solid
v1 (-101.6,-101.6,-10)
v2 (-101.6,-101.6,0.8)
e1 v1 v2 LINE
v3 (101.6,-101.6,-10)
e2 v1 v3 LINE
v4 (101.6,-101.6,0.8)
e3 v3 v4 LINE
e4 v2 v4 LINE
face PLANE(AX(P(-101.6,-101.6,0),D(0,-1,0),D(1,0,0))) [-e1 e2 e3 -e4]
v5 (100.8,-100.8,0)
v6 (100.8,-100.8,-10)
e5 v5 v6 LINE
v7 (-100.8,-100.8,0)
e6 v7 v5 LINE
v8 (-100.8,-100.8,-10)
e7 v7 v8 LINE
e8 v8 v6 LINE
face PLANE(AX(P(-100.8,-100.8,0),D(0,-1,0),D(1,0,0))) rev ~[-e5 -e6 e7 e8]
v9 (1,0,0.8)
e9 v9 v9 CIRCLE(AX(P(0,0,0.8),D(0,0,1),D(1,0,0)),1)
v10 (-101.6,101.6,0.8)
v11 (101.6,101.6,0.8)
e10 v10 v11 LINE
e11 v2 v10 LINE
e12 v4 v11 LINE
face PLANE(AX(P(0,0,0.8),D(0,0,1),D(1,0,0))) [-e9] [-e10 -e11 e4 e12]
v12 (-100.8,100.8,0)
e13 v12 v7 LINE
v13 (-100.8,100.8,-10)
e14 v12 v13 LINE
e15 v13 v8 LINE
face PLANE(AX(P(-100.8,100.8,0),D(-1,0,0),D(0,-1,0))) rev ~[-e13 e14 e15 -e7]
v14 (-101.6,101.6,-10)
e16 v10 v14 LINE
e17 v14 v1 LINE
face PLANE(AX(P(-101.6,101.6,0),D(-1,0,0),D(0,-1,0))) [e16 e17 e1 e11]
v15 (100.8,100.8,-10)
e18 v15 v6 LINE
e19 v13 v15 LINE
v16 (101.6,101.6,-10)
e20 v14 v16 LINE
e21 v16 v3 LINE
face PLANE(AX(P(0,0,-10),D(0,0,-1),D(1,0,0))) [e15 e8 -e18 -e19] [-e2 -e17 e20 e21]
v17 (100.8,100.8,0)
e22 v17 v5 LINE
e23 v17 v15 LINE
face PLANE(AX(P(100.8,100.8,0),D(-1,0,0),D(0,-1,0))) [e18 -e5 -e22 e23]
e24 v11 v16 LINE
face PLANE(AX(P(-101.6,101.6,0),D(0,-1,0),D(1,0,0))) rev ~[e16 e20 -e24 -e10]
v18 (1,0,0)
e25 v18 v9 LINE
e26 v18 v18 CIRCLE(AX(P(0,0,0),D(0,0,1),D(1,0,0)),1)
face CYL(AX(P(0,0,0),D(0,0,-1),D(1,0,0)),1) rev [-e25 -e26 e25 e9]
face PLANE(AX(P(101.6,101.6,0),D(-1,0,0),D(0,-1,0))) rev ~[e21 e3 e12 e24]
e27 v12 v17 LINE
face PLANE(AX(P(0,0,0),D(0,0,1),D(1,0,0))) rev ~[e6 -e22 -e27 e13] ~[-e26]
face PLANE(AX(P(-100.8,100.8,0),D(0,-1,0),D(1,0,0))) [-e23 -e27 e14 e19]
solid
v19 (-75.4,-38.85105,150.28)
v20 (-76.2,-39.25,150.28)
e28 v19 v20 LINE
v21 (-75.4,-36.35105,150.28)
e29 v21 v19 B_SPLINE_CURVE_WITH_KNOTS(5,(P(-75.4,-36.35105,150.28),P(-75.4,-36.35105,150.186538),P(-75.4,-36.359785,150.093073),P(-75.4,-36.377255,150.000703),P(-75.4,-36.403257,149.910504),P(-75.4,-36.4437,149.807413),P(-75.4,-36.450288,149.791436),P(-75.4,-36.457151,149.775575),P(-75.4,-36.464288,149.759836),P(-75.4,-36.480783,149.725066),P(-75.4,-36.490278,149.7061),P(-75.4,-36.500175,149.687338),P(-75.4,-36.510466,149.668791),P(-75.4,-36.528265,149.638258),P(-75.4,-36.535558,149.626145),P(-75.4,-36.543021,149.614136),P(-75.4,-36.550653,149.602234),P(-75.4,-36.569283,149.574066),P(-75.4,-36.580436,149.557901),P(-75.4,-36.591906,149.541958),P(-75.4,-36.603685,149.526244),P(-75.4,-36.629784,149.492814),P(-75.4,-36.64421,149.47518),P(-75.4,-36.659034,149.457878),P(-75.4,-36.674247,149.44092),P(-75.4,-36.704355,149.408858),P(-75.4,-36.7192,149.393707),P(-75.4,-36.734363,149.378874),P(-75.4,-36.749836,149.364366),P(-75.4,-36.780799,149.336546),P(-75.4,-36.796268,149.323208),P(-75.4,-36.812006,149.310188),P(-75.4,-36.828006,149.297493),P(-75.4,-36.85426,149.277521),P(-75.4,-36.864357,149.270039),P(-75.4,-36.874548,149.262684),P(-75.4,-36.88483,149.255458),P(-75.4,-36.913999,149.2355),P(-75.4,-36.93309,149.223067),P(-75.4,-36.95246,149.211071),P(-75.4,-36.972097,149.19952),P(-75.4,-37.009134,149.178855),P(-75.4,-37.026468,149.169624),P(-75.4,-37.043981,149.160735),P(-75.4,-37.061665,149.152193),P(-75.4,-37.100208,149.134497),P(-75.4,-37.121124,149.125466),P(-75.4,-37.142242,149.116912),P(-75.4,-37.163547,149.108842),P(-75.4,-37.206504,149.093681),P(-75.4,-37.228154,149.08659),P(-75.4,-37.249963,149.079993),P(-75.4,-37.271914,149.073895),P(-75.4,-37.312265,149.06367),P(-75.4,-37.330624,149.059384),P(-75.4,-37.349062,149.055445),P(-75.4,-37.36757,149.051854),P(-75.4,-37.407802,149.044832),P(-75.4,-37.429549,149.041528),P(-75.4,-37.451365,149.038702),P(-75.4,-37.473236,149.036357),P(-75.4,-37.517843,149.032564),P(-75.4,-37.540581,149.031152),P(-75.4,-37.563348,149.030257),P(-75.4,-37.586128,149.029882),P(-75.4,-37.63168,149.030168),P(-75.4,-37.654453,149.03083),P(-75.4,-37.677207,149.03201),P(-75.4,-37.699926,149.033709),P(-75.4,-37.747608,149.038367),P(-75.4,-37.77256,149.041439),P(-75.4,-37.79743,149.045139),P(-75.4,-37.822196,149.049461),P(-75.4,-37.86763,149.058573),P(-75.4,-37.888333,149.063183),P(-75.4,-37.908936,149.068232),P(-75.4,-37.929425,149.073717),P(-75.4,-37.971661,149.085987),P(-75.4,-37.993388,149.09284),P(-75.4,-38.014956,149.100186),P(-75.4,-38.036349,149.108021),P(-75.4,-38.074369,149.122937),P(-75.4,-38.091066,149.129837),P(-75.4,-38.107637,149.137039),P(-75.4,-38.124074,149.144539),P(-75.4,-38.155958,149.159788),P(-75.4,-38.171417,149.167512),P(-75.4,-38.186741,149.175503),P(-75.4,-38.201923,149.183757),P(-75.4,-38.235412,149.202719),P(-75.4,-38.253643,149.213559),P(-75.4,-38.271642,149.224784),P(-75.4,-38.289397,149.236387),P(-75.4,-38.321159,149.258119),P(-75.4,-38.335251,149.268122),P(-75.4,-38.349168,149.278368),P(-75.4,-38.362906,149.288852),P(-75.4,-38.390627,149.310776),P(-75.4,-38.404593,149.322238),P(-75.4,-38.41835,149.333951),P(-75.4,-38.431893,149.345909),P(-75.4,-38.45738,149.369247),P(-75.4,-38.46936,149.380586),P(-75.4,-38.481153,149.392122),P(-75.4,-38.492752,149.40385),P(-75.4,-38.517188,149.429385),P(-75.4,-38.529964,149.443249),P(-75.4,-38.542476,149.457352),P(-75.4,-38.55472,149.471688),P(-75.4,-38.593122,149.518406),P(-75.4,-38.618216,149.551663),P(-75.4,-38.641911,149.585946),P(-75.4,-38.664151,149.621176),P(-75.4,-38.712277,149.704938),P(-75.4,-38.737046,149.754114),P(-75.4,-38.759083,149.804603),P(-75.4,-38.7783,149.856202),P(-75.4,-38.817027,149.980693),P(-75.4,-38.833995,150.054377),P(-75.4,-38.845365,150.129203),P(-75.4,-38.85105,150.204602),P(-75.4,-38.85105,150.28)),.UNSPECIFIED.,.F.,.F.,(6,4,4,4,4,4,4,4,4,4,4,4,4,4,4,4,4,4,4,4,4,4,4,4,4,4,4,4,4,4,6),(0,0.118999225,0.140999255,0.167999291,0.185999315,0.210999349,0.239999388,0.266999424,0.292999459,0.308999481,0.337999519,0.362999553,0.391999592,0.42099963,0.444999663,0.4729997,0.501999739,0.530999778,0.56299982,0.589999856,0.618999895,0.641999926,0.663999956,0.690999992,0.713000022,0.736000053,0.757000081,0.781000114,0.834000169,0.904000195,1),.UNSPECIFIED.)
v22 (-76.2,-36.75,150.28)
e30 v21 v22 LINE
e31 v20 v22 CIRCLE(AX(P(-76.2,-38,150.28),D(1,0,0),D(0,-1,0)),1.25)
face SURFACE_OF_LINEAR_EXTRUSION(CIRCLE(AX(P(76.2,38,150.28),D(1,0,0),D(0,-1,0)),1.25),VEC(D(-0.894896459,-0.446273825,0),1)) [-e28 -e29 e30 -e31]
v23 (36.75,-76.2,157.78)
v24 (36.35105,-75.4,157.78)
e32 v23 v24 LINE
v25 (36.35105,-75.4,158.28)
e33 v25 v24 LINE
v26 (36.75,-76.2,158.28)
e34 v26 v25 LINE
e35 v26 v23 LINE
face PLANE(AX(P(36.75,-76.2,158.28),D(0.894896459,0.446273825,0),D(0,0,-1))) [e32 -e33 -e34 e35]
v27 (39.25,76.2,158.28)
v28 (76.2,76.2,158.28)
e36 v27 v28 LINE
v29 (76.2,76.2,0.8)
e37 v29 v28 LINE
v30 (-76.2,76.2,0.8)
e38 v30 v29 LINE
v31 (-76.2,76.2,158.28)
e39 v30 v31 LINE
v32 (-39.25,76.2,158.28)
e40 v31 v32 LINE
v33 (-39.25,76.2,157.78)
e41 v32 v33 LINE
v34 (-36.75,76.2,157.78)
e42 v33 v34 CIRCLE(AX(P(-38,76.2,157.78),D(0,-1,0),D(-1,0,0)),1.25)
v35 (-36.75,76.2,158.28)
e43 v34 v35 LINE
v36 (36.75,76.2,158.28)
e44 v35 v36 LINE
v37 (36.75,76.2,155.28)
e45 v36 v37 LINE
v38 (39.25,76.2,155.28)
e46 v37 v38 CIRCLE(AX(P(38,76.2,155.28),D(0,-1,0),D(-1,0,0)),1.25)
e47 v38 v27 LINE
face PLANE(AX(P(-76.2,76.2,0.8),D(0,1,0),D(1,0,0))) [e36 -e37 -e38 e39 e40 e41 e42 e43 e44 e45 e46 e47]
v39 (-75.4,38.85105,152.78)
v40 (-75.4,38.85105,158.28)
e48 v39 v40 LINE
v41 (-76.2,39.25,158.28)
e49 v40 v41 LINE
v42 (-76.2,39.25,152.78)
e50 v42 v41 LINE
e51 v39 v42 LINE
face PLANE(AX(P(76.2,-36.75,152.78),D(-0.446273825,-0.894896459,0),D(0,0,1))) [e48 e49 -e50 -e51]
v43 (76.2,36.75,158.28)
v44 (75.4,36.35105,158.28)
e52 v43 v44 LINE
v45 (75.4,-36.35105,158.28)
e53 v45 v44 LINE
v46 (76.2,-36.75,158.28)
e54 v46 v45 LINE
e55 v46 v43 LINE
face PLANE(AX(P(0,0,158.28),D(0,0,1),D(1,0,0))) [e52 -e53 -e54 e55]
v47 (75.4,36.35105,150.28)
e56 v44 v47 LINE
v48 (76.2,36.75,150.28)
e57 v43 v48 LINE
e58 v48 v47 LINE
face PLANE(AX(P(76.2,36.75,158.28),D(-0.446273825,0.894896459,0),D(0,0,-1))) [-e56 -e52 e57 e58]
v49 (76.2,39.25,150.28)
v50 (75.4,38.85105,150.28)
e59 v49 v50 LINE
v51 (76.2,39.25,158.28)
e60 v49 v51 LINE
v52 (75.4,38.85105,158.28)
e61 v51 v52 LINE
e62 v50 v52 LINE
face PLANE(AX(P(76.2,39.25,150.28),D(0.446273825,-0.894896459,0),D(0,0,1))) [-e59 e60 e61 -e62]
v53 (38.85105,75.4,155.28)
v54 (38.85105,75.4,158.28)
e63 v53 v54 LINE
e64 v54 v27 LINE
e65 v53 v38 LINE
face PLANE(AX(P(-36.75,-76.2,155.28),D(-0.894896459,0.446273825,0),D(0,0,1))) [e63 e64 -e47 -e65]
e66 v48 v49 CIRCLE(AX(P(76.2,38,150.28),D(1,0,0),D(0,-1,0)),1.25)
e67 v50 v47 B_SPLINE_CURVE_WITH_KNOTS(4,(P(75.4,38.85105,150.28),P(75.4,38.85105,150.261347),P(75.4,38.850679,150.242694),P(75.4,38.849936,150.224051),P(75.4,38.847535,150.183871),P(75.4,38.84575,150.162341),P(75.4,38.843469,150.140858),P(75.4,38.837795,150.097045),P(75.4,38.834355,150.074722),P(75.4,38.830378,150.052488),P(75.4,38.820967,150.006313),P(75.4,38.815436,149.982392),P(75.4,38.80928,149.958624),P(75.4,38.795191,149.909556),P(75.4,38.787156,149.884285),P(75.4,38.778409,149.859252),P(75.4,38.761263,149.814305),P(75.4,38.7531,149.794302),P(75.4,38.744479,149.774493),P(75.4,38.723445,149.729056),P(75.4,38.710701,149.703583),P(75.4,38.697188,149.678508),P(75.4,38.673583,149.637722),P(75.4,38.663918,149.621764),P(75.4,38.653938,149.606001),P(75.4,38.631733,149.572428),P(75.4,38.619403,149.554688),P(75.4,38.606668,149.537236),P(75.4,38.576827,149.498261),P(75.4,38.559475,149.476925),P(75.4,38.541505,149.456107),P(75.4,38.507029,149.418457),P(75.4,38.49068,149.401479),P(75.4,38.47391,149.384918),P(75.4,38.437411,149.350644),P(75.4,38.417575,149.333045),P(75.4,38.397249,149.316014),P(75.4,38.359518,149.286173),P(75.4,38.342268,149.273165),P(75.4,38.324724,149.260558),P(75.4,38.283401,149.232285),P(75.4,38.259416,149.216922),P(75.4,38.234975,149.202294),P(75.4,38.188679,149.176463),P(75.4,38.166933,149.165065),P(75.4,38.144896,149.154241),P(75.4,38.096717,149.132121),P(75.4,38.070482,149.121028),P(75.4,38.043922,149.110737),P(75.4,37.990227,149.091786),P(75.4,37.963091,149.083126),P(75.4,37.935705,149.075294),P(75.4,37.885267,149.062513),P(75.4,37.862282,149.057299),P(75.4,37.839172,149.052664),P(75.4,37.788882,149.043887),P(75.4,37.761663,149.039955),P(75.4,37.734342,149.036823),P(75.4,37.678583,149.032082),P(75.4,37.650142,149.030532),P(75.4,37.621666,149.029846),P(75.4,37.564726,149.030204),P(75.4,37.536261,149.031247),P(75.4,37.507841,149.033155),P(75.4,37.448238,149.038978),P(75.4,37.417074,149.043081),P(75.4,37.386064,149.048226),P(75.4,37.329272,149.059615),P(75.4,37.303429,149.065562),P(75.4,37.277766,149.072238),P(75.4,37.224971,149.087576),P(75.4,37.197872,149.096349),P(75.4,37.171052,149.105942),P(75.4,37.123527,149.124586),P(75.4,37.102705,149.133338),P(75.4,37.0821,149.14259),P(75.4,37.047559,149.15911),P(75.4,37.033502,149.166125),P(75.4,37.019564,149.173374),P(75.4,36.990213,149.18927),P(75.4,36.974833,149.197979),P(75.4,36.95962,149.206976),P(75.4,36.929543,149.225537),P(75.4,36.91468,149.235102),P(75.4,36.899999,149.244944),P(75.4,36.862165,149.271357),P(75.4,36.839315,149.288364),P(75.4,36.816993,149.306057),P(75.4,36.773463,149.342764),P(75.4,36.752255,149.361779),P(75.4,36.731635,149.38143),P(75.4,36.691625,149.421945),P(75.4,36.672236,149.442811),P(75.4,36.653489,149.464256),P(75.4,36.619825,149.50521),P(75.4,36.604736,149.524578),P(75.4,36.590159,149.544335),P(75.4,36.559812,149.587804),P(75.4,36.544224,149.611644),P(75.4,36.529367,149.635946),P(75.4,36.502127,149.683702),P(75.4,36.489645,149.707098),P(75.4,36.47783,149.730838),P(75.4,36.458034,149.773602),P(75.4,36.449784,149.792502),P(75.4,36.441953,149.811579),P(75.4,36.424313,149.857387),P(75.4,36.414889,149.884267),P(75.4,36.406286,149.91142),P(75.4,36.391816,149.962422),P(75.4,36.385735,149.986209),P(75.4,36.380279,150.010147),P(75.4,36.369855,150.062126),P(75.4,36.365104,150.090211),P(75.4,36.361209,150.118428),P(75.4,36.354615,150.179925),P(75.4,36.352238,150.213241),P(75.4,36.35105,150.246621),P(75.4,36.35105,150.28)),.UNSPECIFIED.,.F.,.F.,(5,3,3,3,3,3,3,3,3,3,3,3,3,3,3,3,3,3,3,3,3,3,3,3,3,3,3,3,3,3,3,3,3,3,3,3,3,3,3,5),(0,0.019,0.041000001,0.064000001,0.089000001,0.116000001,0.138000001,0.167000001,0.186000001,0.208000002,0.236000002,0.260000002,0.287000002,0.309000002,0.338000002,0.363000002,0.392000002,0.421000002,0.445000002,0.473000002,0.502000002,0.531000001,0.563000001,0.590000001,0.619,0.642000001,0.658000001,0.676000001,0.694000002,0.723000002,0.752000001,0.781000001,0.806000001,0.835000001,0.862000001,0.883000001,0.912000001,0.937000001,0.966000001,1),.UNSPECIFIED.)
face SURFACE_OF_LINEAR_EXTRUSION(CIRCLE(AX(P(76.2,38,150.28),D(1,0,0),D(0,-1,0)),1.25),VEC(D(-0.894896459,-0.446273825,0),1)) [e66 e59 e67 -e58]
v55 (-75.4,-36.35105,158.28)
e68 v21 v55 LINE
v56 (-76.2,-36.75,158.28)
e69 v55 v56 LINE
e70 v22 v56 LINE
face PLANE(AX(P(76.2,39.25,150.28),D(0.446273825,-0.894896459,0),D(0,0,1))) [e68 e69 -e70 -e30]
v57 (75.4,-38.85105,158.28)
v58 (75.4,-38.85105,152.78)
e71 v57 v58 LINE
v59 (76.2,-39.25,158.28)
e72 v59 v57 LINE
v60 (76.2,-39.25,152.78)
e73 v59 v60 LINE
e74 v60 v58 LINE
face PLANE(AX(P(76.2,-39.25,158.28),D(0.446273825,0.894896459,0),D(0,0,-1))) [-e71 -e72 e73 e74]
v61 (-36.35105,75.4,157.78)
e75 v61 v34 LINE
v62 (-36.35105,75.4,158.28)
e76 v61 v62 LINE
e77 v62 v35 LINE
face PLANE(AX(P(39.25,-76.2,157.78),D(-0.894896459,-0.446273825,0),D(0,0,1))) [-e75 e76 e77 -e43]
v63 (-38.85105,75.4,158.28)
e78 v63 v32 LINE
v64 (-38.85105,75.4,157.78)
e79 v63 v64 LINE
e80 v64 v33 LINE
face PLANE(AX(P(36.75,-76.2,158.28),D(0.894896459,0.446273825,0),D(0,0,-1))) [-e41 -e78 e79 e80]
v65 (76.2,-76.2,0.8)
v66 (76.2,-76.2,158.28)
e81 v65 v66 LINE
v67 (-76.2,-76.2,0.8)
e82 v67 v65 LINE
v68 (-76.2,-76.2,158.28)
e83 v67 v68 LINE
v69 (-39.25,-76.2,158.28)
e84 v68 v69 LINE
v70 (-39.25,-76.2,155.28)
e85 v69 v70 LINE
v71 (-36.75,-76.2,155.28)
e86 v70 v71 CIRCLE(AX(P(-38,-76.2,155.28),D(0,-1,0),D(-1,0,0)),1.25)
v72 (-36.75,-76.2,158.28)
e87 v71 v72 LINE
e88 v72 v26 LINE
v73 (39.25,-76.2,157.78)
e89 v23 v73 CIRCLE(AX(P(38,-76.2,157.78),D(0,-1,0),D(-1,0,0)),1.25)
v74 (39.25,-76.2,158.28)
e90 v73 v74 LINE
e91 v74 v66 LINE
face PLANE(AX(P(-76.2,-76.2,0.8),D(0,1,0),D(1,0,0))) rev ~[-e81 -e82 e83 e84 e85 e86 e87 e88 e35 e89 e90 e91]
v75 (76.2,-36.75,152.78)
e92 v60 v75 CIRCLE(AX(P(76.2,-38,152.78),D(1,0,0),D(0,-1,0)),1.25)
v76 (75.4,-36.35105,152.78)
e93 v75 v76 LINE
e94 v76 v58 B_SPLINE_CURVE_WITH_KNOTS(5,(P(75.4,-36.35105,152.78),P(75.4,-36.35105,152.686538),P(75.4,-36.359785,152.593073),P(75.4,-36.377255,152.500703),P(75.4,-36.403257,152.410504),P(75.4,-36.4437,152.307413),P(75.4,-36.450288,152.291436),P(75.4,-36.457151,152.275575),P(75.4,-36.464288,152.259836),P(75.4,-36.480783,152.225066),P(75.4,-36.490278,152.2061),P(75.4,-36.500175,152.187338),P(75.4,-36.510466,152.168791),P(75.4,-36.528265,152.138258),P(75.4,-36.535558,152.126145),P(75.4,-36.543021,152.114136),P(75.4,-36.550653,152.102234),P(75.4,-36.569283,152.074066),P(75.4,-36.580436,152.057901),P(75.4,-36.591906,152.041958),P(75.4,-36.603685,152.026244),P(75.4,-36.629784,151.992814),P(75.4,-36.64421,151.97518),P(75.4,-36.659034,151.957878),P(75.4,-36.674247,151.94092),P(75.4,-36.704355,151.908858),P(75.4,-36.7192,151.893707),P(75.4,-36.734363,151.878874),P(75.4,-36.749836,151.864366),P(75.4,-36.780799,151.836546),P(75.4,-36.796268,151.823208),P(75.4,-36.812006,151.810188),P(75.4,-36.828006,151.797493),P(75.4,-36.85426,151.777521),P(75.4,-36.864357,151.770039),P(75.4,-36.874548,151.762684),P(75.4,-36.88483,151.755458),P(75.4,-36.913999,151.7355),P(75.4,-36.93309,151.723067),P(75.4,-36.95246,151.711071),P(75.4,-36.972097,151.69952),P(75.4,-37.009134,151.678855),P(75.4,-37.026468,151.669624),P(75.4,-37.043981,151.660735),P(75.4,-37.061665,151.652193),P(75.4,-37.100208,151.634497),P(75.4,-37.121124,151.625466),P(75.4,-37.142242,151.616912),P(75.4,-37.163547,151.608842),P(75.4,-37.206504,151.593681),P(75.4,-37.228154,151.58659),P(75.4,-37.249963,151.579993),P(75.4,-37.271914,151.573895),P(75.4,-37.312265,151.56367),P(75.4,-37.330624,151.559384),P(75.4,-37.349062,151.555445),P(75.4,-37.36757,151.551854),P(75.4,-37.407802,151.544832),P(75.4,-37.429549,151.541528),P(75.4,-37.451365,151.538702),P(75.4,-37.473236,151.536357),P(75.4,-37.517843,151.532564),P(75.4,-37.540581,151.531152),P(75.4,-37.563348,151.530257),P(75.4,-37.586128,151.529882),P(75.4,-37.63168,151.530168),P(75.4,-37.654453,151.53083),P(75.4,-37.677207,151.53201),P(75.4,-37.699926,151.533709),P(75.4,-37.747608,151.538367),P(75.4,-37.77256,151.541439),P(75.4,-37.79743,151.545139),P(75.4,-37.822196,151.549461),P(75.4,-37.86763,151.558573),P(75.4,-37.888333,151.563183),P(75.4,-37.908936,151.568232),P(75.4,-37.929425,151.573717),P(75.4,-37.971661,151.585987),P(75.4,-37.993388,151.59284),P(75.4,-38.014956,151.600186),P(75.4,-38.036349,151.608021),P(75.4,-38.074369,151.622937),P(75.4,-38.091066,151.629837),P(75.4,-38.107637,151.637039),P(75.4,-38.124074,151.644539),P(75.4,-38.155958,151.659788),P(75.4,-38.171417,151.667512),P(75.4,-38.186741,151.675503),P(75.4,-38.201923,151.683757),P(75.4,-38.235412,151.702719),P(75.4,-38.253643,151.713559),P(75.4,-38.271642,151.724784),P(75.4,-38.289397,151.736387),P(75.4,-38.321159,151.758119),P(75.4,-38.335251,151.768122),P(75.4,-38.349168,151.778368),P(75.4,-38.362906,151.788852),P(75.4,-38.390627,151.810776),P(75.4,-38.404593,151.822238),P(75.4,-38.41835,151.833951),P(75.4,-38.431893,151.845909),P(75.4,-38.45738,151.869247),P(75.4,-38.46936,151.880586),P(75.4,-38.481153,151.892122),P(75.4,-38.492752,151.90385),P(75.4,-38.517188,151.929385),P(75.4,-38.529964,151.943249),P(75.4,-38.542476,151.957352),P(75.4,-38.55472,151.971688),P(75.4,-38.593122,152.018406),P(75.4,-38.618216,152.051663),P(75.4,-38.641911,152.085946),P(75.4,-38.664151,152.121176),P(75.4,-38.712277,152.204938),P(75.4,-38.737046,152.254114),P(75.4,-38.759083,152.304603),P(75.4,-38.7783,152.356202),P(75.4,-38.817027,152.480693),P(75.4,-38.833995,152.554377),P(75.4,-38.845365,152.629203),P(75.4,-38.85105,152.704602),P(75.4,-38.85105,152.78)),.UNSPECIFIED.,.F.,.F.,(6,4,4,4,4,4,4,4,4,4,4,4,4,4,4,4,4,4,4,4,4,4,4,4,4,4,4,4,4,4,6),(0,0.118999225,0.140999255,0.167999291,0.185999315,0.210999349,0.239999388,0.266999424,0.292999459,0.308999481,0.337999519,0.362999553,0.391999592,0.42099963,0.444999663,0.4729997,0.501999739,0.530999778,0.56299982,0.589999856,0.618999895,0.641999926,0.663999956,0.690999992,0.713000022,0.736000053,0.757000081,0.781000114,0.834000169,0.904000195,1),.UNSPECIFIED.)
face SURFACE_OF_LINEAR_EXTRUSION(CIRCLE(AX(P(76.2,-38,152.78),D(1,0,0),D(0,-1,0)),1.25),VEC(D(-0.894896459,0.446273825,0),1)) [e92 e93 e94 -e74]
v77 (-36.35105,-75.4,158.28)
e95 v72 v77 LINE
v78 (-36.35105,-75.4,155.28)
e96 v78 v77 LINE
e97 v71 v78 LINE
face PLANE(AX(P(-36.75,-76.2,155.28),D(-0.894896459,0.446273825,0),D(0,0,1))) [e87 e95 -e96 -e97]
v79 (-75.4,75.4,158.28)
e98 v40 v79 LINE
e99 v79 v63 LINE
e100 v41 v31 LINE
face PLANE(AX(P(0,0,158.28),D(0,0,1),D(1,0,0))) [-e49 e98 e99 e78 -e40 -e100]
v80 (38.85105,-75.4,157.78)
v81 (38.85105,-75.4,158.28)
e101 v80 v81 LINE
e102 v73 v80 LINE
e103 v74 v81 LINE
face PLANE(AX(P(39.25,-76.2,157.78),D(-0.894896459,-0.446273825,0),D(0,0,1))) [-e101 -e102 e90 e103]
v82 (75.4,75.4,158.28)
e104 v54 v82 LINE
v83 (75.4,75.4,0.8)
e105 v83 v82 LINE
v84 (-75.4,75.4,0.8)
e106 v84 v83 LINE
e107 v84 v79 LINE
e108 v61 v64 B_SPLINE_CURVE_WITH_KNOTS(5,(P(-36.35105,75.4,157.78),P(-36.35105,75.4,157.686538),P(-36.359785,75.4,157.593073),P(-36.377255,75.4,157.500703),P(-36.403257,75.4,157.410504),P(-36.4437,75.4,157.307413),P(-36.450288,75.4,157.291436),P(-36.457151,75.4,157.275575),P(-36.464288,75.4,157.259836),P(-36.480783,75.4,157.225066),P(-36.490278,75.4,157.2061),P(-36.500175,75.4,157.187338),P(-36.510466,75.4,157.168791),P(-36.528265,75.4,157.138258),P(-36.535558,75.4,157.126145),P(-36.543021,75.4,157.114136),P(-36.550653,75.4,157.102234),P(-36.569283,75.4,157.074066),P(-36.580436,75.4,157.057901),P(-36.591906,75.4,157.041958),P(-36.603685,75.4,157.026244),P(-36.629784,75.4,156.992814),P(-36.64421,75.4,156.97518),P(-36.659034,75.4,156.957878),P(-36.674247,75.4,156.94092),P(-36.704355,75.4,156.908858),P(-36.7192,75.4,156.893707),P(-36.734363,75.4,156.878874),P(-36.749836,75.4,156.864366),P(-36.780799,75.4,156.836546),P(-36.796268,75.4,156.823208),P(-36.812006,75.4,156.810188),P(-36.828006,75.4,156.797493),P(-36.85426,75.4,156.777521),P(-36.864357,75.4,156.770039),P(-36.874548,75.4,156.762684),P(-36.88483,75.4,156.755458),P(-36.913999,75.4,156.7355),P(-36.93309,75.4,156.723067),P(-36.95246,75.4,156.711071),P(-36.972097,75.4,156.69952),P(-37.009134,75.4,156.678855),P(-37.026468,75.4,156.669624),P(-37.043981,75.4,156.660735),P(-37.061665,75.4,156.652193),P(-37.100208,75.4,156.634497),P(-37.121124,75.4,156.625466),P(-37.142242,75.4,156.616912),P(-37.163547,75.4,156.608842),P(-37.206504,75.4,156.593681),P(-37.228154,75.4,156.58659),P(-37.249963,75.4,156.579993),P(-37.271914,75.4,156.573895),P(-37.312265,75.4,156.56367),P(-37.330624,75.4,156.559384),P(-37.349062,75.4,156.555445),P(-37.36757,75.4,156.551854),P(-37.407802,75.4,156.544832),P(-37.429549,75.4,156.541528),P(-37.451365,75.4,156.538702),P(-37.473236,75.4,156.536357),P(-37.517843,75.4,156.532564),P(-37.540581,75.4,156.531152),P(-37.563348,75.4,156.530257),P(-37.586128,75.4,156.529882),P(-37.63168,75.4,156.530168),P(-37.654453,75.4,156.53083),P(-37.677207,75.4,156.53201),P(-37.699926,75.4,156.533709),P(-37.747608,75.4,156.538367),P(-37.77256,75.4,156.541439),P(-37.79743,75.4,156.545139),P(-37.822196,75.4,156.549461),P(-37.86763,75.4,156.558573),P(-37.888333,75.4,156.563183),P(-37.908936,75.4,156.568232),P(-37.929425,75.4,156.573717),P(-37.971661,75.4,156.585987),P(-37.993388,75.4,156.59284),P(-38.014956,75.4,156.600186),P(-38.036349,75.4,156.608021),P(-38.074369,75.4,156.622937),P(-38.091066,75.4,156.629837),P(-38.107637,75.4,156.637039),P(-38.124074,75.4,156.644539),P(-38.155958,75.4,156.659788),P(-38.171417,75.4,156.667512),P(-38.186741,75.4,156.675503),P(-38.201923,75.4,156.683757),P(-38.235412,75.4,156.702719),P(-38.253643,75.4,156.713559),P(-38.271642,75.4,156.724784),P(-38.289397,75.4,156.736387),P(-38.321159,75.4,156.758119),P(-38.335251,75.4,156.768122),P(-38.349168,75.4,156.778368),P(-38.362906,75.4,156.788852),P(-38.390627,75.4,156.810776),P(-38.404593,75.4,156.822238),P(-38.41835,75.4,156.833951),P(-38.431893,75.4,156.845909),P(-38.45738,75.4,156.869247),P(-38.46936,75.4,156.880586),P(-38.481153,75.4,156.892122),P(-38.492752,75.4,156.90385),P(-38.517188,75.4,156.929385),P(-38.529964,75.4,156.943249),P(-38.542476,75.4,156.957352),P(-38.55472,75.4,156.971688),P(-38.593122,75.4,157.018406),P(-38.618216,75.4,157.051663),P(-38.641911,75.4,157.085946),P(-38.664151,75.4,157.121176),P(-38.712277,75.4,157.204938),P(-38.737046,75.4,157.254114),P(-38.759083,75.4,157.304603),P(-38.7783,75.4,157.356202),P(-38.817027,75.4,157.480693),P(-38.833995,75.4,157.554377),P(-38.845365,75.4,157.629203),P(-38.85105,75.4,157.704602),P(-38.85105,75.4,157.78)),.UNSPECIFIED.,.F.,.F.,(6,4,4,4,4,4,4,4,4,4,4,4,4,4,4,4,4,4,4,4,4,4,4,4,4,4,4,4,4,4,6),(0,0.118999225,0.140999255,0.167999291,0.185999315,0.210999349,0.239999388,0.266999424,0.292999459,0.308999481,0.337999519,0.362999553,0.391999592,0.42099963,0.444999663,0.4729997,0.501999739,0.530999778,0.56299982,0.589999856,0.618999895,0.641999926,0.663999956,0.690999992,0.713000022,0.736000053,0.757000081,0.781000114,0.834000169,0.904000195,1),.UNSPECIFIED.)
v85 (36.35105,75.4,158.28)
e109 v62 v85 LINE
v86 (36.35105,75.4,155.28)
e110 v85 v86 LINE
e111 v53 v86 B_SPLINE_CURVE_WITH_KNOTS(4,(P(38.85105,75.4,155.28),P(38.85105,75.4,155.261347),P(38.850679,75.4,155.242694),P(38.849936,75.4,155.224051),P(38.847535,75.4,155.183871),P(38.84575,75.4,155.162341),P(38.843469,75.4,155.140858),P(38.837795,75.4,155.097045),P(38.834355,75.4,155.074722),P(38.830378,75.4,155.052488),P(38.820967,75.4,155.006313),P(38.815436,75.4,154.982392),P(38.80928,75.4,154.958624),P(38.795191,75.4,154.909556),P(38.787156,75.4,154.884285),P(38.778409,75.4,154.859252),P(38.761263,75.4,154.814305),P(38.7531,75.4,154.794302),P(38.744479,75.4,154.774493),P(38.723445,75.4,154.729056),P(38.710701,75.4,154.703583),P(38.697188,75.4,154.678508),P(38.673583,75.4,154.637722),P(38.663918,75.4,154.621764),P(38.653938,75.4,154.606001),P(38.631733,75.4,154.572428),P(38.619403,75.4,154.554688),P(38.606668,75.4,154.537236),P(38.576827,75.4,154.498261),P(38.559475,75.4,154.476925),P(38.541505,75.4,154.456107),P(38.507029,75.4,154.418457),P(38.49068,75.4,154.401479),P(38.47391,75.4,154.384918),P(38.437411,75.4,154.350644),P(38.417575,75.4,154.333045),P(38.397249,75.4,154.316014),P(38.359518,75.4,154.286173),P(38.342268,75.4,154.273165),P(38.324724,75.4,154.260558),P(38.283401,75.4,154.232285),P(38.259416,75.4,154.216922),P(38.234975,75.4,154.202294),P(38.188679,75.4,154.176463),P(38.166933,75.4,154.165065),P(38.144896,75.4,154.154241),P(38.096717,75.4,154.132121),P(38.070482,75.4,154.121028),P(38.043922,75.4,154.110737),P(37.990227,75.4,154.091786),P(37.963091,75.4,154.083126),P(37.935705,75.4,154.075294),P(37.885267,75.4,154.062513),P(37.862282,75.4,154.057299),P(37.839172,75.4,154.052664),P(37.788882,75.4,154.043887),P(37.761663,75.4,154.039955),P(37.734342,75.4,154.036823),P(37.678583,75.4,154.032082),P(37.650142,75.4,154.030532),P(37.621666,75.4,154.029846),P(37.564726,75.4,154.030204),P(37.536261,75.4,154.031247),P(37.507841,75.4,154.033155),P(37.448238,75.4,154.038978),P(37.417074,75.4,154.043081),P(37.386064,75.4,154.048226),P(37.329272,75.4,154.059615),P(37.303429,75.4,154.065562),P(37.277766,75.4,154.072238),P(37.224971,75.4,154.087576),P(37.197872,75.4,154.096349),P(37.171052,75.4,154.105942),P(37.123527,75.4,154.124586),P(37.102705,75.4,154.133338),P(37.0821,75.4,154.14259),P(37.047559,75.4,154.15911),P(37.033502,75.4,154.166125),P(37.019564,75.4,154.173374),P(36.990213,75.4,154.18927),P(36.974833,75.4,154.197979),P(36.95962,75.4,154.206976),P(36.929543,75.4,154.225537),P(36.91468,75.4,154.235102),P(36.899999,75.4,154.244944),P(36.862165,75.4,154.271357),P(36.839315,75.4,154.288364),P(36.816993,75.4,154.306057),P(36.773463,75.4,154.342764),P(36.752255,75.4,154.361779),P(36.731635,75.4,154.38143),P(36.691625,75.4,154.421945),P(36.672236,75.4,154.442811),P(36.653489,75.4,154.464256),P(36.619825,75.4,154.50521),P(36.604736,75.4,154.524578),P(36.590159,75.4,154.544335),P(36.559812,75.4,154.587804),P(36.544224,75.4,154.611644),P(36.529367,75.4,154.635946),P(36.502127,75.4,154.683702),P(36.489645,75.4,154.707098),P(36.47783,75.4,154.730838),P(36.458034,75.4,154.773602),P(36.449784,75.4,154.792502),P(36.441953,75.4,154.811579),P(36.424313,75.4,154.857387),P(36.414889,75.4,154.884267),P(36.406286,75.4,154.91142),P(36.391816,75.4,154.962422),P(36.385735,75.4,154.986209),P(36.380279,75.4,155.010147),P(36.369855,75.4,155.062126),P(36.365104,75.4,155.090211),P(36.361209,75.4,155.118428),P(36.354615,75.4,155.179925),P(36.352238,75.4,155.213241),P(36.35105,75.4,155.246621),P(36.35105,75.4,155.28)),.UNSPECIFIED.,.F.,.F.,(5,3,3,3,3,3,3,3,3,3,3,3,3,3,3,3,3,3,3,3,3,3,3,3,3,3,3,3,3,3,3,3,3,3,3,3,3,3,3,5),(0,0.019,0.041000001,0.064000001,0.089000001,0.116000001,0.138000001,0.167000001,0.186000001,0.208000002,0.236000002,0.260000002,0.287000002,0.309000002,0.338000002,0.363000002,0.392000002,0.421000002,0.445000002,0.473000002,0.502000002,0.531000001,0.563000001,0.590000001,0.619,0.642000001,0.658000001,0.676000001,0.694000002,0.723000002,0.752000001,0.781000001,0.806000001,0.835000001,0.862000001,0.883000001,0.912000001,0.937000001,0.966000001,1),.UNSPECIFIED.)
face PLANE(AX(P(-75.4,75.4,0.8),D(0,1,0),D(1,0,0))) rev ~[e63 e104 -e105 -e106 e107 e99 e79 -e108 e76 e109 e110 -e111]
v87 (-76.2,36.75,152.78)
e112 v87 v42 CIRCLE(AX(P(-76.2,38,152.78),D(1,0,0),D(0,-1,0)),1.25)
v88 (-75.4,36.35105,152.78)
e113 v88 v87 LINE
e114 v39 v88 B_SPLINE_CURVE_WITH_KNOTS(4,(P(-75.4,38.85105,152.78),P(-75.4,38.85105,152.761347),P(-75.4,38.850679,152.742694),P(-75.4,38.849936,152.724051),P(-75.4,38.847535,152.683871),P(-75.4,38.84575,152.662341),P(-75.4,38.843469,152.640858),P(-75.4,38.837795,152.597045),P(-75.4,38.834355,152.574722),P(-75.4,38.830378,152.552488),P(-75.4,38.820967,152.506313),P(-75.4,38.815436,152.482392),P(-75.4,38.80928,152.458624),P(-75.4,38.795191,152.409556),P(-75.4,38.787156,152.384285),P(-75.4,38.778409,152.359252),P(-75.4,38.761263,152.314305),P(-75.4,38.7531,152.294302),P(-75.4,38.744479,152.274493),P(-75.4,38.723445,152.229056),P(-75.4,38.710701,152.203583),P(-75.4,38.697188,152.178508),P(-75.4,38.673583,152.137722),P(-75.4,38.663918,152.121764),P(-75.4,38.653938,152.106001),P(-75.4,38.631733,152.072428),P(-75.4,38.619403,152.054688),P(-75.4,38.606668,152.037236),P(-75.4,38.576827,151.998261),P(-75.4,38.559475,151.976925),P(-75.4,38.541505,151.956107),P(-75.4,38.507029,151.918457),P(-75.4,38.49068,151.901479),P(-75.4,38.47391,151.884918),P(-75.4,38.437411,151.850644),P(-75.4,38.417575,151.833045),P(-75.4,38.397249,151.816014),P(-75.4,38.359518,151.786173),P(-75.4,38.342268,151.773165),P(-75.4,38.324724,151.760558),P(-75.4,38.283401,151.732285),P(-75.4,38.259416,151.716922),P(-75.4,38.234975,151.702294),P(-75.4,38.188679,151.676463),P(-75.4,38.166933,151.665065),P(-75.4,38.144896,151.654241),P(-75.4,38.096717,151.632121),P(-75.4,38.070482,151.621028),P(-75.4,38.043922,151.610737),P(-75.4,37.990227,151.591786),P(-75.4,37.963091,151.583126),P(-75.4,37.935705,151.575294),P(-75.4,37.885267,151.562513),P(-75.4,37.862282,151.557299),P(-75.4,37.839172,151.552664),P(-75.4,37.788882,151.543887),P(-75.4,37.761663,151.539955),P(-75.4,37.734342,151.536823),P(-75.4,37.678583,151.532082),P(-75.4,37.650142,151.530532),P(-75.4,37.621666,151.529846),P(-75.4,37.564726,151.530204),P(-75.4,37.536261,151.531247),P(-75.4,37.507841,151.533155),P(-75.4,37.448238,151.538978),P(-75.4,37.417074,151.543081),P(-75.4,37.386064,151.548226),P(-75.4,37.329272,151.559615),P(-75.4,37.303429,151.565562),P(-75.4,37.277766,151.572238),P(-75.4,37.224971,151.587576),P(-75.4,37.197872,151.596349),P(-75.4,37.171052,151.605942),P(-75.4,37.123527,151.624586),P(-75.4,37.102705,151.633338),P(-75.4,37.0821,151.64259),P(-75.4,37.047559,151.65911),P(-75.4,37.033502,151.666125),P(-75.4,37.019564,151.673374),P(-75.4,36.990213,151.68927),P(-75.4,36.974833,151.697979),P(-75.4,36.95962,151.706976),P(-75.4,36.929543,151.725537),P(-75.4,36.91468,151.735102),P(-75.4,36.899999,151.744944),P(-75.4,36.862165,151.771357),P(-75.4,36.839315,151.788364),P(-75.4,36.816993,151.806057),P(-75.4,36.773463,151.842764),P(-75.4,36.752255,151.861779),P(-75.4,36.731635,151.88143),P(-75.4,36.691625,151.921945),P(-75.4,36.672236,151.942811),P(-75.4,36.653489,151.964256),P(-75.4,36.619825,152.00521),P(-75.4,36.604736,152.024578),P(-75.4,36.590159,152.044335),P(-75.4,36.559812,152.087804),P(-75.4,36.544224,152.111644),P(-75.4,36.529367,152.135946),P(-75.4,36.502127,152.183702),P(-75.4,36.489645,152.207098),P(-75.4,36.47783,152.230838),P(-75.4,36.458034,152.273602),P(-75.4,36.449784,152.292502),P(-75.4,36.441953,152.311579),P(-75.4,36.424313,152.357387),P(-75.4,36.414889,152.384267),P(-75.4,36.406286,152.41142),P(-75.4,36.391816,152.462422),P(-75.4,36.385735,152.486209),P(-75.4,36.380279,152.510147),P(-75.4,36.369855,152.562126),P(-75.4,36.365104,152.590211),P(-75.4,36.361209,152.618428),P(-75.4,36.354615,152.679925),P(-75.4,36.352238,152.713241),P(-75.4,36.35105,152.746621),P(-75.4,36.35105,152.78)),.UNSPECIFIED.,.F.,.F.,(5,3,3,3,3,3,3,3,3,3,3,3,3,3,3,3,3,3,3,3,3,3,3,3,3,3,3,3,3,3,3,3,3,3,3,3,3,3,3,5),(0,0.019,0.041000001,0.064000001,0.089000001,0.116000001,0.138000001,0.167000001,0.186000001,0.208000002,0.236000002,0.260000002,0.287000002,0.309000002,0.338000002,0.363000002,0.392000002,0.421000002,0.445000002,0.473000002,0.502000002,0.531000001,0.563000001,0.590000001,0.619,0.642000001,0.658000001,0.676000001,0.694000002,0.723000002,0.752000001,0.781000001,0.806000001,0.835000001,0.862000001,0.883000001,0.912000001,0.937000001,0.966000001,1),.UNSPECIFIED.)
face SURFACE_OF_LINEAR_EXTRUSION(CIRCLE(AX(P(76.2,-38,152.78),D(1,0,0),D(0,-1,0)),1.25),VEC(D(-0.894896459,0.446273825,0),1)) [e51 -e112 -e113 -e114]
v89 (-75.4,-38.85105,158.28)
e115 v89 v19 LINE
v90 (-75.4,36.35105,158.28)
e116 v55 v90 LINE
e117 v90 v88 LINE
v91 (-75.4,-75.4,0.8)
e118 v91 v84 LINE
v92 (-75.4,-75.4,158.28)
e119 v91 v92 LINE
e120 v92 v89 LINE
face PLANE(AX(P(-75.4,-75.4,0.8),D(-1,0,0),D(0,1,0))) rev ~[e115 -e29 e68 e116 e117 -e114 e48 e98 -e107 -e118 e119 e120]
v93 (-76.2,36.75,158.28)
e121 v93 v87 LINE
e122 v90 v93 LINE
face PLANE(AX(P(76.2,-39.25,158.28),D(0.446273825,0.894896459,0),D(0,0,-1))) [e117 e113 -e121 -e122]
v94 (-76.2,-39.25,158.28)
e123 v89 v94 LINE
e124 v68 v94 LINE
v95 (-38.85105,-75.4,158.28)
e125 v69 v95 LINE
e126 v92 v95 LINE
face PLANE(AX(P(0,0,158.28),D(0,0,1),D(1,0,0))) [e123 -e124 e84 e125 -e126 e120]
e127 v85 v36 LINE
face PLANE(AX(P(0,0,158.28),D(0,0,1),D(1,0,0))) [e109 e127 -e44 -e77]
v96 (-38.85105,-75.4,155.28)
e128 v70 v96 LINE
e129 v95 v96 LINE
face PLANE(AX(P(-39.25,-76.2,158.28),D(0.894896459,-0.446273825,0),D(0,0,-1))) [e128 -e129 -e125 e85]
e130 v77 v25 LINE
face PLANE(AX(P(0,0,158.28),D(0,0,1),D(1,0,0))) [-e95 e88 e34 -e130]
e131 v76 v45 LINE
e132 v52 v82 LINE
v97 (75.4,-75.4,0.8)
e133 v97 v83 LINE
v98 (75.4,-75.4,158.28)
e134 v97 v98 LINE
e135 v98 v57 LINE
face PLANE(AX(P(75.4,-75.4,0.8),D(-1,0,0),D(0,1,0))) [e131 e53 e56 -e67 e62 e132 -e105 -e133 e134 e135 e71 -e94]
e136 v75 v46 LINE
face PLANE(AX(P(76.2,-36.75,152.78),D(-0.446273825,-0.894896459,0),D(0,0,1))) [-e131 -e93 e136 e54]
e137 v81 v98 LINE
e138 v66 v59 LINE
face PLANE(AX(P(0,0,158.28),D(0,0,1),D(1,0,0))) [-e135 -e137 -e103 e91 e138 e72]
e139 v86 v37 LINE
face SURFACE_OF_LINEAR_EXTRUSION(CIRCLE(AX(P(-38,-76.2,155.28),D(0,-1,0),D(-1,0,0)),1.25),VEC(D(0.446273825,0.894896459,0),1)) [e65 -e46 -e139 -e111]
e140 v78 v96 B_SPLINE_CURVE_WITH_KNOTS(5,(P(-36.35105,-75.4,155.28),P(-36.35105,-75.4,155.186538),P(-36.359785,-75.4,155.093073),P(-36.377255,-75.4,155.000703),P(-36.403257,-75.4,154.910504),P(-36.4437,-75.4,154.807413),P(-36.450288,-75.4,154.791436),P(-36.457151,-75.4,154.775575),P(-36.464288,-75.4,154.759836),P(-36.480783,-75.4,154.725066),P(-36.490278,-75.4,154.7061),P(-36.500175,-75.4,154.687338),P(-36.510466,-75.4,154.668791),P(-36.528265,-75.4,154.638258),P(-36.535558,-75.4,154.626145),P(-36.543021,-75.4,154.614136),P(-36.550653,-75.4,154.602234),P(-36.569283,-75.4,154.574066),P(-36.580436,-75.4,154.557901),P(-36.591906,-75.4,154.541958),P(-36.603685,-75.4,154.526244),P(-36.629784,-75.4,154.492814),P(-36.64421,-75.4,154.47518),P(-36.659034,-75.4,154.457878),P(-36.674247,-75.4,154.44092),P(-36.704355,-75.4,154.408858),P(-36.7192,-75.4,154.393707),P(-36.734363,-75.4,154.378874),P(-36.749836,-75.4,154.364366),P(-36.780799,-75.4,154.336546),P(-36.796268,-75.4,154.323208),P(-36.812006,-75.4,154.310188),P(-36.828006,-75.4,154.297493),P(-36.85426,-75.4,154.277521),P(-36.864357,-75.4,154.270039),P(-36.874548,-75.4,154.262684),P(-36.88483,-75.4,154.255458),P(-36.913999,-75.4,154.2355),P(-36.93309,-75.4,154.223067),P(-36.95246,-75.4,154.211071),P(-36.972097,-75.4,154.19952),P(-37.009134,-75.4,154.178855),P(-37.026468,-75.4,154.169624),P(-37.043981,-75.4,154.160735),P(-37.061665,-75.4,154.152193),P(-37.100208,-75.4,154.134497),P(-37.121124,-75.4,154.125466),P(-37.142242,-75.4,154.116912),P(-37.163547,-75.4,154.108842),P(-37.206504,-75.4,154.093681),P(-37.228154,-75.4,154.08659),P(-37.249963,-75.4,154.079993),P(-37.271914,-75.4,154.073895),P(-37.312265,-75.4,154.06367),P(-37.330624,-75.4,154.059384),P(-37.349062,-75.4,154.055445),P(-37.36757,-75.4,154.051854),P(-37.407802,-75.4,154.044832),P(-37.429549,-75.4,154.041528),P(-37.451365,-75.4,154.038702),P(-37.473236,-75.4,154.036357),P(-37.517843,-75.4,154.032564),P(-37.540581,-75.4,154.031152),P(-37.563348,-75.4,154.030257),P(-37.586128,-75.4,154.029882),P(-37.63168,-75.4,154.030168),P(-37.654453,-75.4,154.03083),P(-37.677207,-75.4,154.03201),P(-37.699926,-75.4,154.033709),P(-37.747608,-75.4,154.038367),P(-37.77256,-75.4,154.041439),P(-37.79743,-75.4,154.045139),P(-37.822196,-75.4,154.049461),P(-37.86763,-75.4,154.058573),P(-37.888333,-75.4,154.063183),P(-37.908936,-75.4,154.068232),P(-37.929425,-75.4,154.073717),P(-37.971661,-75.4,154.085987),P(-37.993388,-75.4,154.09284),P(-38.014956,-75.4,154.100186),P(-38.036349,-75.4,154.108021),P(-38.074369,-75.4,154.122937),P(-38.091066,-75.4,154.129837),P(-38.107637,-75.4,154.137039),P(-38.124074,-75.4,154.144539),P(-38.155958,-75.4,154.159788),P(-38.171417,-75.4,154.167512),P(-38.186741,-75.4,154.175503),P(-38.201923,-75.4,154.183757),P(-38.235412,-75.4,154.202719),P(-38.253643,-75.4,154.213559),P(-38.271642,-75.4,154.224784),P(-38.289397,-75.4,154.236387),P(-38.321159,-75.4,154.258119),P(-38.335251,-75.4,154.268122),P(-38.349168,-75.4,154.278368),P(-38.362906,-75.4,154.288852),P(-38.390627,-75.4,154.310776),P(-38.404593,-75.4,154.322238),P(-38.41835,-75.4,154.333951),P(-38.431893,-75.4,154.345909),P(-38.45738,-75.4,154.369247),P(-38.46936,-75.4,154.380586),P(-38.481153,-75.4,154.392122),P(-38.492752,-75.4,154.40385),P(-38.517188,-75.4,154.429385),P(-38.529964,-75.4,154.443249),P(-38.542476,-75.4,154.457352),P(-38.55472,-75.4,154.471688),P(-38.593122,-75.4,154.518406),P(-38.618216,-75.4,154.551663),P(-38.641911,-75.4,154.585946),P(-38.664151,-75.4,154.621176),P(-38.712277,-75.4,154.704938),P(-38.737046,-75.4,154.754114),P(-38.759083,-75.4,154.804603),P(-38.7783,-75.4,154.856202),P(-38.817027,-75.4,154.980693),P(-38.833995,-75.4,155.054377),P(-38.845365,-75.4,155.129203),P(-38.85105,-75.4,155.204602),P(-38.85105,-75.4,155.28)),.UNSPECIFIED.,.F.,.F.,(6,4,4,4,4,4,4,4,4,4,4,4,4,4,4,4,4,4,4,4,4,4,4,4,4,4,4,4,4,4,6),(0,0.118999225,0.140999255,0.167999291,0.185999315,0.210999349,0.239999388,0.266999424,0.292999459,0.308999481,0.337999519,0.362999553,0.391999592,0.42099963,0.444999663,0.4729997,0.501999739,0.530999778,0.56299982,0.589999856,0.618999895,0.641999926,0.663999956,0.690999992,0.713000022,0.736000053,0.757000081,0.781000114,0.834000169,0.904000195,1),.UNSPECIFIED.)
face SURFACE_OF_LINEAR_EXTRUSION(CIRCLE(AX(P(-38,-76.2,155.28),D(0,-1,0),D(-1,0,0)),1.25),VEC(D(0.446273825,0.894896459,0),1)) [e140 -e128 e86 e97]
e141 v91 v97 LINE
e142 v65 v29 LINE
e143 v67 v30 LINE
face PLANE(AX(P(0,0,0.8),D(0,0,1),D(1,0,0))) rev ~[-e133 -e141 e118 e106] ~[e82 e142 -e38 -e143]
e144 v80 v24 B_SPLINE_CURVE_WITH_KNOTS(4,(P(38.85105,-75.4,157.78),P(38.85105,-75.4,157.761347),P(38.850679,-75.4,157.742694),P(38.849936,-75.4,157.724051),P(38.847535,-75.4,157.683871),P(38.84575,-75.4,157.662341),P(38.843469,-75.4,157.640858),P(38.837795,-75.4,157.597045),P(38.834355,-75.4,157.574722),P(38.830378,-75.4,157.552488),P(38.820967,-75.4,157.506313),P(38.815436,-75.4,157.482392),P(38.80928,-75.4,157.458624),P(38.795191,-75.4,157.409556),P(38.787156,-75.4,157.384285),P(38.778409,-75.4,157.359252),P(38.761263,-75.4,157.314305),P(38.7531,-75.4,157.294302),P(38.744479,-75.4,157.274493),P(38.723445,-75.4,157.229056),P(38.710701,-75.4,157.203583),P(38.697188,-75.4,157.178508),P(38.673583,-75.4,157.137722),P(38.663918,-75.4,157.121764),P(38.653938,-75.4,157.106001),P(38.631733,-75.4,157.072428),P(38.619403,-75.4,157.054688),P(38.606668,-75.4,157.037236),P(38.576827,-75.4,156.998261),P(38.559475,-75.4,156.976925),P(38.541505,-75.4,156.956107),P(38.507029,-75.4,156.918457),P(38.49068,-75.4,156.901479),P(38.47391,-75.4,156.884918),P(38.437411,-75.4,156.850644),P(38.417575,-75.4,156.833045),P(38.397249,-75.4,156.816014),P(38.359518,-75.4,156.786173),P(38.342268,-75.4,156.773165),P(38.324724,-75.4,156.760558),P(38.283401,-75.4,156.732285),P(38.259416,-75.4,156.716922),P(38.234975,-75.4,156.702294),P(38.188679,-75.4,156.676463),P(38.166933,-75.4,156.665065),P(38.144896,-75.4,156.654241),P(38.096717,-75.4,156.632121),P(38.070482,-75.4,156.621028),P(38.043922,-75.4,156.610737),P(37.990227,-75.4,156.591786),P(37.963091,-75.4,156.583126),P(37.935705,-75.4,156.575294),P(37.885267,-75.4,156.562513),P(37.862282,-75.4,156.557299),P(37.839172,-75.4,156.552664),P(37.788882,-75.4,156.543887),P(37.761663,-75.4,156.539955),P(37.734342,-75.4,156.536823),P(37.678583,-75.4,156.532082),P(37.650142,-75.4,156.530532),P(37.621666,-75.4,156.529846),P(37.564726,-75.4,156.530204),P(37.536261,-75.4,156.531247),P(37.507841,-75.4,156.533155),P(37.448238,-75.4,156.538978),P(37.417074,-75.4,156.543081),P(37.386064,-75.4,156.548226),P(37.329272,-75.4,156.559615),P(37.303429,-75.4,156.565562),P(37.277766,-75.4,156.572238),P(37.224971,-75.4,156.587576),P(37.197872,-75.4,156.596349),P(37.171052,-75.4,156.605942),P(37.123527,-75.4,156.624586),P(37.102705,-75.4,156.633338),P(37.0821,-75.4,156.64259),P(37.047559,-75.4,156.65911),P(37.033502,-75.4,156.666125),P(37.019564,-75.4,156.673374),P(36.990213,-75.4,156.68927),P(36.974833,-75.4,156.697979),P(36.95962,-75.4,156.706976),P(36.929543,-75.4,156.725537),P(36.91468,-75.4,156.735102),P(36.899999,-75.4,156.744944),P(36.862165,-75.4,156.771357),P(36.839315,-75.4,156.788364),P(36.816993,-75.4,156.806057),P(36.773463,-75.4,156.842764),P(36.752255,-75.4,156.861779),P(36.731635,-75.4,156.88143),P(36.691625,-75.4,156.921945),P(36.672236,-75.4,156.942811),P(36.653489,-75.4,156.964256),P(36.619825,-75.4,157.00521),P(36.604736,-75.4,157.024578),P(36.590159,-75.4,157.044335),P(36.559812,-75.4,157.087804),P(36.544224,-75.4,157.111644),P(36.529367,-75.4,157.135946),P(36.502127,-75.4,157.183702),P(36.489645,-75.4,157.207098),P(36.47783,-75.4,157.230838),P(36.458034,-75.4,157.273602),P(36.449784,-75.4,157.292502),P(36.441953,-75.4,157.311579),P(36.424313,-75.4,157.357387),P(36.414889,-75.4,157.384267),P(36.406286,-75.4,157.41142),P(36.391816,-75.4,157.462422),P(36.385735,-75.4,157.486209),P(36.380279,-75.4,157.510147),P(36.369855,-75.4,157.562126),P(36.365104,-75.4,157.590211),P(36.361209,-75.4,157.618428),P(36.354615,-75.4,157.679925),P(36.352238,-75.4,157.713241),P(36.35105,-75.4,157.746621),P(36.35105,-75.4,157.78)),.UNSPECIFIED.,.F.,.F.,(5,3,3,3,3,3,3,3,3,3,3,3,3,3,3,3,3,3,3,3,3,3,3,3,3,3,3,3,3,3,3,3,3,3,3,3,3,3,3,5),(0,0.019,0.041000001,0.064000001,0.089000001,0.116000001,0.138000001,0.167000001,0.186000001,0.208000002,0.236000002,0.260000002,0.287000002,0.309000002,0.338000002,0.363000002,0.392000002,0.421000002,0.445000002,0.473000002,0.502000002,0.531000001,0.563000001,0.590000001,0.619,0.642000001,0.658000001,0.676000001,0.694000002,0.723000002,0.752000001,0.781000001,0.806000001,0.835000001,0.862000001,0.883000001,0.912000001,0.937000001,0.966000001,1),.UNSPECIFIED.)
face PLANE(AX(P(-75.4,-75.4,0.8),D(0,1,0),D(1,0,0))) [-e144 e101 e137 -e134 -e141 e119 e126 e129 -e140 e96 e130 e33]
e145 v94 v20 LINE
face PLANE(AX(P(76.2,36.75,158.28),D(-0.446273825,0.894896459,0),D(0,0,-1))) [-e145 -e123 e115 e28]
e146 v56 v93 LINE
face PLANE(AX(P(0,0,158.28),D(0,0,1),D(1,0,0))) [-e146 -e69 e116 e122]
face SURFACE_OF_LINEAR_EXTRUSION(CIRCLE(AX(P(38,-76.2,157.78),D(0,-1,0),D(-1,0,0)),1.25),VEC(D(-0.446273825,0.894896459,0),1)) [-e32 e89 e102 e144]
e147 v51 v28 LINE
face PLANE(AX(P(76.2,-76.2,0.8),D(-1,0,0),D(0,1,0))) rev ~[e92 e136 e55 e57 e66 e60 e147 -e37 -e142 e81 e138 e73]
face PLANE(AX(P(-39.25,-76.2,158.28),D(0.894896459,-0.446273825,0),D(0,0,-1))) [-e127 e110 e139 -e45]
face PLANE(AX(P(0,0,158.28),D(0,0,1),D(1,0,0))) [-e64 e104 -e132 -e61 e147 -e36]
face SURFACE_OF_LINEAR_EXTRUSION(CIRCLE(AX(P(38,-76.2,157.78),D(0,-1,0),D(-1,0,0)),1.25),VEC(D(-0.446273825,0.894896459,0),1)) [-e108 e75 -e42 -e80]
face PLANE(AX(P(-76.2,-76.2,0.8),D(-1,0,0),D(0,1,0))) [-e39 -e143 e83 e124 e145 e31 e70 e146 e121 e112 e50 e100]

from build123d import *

# Parameters (mm, degrees)
F0_W     = 203.2
F0_H     = 203.2
F0_R     = 1
F1_DEPTH = 0.8
F2_W     = 203.2
F2_H     = 203.2
F2_W_2   = 201.6
F2_H_2   = 201.6
F3_DEPTH = 10
F4_W     = 152.4
F4_H     = 152.4
F4_W_2   = 150.8
F4_H_2   = 150.8
F5_DEPTH = 157.48


with BuildPart() as f1:
    # F0 (on Top) → F1 (new body)
    with BuildSketch(Plane.XY):
        Rectangle(F0_W, F0_H)
        Circle(F0_R, mode=Mode.SUBTRACT)
    extrude(amount=F1_DEPTH)

    # F2 (on face) → F3 (join)
    with BuildSketch(Plane(origin=(0, 0, 0), x_dir=(1, 0, 0), z_dir=(0, 0, -1))):
        Rectangle(F2_W, F2_H)
        Rectangle(F2_W_2, F2_H_2, mode=Mode.SUBTRACT)
    extrude(amount=F3_DEPTH)


with BuildPart() as f5:
    # F4 (on face) → F5 (new body)
    with BuildSketch(Plane.XY.offset(0.8)):
        Rectangle(F4_W, F4_H)
        Rectangle(F4_W_2, F4_H_2, mode=Mode.SUBTRACT)
    extrude(amount=F5_DEPTH)

    # F9: sweep along a path in F8
    with BuildLine(Plane.XY.offset(158.28)) as f9_path:
        Line((38, -76.2), (-38, 76.2))
    # F6 (on face) → F9 (sweep, cut)
    with BuildSketch(Plane.XZ.offset(76.2)):
        with BuildLine():
            Line((39.25, 158.28), (36.75, 158.28))
            Line((36.75, 158.28), (36.75, 157.78))
            ThreePointArc((36.75, 157.78), (38, 156.53), (39.25, 157.78))
            Line((39.25, 157.78), (39.25, 158.28))
        make_face()
    sweep(path=f9_path.line, mode=Mode.SUBTRACT)

    # F10: sweep along a path in F8
    with BuildLine(Plane.XY.offset(158.28)) as f10_path:
        Line((-38, -76.2), (38, 76.2))
    # F6 (on face) → F10 (sweep, cut)
    with BuildSketch(Plane.XZ.offset(76.2)):
        with BuildLine():
            Line((-36.75, 155.28), (-36.75, 158.28))
            Line((-36.75, 158.28), (-39.25, 158.28))
            Line((-39.25, 158.28), (-39.25, 155.28))
            ThreePointArc((-39.25, 155.28), (-38, 154.03), (-36.75, 155.28))
        make_face()
    sweep(path=f10_path.line, mode=Mode.SUBTRACT)

    # F11: sweep along a path in F8
    with BuildLine(Plane.XY.offset(158.28)) as f11_path:
        Line((76.2, -38), (-76.2, 38))
    # F7 (on face) → F11 (sweep, cut)
    with BuildSketch(Plane.YZ.offset(76.2)):
        with BuildLine():
            Line((-36.75, 152.78), (-36.75, 158.28))
            Line((-36.75, 158.28), (-39.25, 158.28))
            Line((-39.25, 158.28), (-39.25, 152.78))
            ThreePointArc((-39.25, 152.78), (-38, 151.53), (-36.75, 152.78))
        make_face()
    sweep(path=f11_path.line, mode=Mode.SUBTRACT)

    # F12: sweep along a path in F8
    with BuildLine(Plane.XY.offset(158.28)) as f12_path:
        Line((76.2, 38), (-76.2, -38))
    # F7 (on face) → F12 (sweep, cut)
    with BuildSketch(Plane.YZ.offset(76.2)):
        with BuildLine():
            ThreePointArc((36.75, 150.28), (38, 149.03), (39.25, 150.28))
            Line((39.25, 150.28), (39.25, 158.28))
            Line((39.25, 158.28), (36.75, 158.28))
            Line((36.75, 158.28), (36.75, 150.28))
        make_face()
    sweep(path=f12_path.line, mode=Mode.SUBTRACT)


solid = Compound([f1.part, f5.part])
